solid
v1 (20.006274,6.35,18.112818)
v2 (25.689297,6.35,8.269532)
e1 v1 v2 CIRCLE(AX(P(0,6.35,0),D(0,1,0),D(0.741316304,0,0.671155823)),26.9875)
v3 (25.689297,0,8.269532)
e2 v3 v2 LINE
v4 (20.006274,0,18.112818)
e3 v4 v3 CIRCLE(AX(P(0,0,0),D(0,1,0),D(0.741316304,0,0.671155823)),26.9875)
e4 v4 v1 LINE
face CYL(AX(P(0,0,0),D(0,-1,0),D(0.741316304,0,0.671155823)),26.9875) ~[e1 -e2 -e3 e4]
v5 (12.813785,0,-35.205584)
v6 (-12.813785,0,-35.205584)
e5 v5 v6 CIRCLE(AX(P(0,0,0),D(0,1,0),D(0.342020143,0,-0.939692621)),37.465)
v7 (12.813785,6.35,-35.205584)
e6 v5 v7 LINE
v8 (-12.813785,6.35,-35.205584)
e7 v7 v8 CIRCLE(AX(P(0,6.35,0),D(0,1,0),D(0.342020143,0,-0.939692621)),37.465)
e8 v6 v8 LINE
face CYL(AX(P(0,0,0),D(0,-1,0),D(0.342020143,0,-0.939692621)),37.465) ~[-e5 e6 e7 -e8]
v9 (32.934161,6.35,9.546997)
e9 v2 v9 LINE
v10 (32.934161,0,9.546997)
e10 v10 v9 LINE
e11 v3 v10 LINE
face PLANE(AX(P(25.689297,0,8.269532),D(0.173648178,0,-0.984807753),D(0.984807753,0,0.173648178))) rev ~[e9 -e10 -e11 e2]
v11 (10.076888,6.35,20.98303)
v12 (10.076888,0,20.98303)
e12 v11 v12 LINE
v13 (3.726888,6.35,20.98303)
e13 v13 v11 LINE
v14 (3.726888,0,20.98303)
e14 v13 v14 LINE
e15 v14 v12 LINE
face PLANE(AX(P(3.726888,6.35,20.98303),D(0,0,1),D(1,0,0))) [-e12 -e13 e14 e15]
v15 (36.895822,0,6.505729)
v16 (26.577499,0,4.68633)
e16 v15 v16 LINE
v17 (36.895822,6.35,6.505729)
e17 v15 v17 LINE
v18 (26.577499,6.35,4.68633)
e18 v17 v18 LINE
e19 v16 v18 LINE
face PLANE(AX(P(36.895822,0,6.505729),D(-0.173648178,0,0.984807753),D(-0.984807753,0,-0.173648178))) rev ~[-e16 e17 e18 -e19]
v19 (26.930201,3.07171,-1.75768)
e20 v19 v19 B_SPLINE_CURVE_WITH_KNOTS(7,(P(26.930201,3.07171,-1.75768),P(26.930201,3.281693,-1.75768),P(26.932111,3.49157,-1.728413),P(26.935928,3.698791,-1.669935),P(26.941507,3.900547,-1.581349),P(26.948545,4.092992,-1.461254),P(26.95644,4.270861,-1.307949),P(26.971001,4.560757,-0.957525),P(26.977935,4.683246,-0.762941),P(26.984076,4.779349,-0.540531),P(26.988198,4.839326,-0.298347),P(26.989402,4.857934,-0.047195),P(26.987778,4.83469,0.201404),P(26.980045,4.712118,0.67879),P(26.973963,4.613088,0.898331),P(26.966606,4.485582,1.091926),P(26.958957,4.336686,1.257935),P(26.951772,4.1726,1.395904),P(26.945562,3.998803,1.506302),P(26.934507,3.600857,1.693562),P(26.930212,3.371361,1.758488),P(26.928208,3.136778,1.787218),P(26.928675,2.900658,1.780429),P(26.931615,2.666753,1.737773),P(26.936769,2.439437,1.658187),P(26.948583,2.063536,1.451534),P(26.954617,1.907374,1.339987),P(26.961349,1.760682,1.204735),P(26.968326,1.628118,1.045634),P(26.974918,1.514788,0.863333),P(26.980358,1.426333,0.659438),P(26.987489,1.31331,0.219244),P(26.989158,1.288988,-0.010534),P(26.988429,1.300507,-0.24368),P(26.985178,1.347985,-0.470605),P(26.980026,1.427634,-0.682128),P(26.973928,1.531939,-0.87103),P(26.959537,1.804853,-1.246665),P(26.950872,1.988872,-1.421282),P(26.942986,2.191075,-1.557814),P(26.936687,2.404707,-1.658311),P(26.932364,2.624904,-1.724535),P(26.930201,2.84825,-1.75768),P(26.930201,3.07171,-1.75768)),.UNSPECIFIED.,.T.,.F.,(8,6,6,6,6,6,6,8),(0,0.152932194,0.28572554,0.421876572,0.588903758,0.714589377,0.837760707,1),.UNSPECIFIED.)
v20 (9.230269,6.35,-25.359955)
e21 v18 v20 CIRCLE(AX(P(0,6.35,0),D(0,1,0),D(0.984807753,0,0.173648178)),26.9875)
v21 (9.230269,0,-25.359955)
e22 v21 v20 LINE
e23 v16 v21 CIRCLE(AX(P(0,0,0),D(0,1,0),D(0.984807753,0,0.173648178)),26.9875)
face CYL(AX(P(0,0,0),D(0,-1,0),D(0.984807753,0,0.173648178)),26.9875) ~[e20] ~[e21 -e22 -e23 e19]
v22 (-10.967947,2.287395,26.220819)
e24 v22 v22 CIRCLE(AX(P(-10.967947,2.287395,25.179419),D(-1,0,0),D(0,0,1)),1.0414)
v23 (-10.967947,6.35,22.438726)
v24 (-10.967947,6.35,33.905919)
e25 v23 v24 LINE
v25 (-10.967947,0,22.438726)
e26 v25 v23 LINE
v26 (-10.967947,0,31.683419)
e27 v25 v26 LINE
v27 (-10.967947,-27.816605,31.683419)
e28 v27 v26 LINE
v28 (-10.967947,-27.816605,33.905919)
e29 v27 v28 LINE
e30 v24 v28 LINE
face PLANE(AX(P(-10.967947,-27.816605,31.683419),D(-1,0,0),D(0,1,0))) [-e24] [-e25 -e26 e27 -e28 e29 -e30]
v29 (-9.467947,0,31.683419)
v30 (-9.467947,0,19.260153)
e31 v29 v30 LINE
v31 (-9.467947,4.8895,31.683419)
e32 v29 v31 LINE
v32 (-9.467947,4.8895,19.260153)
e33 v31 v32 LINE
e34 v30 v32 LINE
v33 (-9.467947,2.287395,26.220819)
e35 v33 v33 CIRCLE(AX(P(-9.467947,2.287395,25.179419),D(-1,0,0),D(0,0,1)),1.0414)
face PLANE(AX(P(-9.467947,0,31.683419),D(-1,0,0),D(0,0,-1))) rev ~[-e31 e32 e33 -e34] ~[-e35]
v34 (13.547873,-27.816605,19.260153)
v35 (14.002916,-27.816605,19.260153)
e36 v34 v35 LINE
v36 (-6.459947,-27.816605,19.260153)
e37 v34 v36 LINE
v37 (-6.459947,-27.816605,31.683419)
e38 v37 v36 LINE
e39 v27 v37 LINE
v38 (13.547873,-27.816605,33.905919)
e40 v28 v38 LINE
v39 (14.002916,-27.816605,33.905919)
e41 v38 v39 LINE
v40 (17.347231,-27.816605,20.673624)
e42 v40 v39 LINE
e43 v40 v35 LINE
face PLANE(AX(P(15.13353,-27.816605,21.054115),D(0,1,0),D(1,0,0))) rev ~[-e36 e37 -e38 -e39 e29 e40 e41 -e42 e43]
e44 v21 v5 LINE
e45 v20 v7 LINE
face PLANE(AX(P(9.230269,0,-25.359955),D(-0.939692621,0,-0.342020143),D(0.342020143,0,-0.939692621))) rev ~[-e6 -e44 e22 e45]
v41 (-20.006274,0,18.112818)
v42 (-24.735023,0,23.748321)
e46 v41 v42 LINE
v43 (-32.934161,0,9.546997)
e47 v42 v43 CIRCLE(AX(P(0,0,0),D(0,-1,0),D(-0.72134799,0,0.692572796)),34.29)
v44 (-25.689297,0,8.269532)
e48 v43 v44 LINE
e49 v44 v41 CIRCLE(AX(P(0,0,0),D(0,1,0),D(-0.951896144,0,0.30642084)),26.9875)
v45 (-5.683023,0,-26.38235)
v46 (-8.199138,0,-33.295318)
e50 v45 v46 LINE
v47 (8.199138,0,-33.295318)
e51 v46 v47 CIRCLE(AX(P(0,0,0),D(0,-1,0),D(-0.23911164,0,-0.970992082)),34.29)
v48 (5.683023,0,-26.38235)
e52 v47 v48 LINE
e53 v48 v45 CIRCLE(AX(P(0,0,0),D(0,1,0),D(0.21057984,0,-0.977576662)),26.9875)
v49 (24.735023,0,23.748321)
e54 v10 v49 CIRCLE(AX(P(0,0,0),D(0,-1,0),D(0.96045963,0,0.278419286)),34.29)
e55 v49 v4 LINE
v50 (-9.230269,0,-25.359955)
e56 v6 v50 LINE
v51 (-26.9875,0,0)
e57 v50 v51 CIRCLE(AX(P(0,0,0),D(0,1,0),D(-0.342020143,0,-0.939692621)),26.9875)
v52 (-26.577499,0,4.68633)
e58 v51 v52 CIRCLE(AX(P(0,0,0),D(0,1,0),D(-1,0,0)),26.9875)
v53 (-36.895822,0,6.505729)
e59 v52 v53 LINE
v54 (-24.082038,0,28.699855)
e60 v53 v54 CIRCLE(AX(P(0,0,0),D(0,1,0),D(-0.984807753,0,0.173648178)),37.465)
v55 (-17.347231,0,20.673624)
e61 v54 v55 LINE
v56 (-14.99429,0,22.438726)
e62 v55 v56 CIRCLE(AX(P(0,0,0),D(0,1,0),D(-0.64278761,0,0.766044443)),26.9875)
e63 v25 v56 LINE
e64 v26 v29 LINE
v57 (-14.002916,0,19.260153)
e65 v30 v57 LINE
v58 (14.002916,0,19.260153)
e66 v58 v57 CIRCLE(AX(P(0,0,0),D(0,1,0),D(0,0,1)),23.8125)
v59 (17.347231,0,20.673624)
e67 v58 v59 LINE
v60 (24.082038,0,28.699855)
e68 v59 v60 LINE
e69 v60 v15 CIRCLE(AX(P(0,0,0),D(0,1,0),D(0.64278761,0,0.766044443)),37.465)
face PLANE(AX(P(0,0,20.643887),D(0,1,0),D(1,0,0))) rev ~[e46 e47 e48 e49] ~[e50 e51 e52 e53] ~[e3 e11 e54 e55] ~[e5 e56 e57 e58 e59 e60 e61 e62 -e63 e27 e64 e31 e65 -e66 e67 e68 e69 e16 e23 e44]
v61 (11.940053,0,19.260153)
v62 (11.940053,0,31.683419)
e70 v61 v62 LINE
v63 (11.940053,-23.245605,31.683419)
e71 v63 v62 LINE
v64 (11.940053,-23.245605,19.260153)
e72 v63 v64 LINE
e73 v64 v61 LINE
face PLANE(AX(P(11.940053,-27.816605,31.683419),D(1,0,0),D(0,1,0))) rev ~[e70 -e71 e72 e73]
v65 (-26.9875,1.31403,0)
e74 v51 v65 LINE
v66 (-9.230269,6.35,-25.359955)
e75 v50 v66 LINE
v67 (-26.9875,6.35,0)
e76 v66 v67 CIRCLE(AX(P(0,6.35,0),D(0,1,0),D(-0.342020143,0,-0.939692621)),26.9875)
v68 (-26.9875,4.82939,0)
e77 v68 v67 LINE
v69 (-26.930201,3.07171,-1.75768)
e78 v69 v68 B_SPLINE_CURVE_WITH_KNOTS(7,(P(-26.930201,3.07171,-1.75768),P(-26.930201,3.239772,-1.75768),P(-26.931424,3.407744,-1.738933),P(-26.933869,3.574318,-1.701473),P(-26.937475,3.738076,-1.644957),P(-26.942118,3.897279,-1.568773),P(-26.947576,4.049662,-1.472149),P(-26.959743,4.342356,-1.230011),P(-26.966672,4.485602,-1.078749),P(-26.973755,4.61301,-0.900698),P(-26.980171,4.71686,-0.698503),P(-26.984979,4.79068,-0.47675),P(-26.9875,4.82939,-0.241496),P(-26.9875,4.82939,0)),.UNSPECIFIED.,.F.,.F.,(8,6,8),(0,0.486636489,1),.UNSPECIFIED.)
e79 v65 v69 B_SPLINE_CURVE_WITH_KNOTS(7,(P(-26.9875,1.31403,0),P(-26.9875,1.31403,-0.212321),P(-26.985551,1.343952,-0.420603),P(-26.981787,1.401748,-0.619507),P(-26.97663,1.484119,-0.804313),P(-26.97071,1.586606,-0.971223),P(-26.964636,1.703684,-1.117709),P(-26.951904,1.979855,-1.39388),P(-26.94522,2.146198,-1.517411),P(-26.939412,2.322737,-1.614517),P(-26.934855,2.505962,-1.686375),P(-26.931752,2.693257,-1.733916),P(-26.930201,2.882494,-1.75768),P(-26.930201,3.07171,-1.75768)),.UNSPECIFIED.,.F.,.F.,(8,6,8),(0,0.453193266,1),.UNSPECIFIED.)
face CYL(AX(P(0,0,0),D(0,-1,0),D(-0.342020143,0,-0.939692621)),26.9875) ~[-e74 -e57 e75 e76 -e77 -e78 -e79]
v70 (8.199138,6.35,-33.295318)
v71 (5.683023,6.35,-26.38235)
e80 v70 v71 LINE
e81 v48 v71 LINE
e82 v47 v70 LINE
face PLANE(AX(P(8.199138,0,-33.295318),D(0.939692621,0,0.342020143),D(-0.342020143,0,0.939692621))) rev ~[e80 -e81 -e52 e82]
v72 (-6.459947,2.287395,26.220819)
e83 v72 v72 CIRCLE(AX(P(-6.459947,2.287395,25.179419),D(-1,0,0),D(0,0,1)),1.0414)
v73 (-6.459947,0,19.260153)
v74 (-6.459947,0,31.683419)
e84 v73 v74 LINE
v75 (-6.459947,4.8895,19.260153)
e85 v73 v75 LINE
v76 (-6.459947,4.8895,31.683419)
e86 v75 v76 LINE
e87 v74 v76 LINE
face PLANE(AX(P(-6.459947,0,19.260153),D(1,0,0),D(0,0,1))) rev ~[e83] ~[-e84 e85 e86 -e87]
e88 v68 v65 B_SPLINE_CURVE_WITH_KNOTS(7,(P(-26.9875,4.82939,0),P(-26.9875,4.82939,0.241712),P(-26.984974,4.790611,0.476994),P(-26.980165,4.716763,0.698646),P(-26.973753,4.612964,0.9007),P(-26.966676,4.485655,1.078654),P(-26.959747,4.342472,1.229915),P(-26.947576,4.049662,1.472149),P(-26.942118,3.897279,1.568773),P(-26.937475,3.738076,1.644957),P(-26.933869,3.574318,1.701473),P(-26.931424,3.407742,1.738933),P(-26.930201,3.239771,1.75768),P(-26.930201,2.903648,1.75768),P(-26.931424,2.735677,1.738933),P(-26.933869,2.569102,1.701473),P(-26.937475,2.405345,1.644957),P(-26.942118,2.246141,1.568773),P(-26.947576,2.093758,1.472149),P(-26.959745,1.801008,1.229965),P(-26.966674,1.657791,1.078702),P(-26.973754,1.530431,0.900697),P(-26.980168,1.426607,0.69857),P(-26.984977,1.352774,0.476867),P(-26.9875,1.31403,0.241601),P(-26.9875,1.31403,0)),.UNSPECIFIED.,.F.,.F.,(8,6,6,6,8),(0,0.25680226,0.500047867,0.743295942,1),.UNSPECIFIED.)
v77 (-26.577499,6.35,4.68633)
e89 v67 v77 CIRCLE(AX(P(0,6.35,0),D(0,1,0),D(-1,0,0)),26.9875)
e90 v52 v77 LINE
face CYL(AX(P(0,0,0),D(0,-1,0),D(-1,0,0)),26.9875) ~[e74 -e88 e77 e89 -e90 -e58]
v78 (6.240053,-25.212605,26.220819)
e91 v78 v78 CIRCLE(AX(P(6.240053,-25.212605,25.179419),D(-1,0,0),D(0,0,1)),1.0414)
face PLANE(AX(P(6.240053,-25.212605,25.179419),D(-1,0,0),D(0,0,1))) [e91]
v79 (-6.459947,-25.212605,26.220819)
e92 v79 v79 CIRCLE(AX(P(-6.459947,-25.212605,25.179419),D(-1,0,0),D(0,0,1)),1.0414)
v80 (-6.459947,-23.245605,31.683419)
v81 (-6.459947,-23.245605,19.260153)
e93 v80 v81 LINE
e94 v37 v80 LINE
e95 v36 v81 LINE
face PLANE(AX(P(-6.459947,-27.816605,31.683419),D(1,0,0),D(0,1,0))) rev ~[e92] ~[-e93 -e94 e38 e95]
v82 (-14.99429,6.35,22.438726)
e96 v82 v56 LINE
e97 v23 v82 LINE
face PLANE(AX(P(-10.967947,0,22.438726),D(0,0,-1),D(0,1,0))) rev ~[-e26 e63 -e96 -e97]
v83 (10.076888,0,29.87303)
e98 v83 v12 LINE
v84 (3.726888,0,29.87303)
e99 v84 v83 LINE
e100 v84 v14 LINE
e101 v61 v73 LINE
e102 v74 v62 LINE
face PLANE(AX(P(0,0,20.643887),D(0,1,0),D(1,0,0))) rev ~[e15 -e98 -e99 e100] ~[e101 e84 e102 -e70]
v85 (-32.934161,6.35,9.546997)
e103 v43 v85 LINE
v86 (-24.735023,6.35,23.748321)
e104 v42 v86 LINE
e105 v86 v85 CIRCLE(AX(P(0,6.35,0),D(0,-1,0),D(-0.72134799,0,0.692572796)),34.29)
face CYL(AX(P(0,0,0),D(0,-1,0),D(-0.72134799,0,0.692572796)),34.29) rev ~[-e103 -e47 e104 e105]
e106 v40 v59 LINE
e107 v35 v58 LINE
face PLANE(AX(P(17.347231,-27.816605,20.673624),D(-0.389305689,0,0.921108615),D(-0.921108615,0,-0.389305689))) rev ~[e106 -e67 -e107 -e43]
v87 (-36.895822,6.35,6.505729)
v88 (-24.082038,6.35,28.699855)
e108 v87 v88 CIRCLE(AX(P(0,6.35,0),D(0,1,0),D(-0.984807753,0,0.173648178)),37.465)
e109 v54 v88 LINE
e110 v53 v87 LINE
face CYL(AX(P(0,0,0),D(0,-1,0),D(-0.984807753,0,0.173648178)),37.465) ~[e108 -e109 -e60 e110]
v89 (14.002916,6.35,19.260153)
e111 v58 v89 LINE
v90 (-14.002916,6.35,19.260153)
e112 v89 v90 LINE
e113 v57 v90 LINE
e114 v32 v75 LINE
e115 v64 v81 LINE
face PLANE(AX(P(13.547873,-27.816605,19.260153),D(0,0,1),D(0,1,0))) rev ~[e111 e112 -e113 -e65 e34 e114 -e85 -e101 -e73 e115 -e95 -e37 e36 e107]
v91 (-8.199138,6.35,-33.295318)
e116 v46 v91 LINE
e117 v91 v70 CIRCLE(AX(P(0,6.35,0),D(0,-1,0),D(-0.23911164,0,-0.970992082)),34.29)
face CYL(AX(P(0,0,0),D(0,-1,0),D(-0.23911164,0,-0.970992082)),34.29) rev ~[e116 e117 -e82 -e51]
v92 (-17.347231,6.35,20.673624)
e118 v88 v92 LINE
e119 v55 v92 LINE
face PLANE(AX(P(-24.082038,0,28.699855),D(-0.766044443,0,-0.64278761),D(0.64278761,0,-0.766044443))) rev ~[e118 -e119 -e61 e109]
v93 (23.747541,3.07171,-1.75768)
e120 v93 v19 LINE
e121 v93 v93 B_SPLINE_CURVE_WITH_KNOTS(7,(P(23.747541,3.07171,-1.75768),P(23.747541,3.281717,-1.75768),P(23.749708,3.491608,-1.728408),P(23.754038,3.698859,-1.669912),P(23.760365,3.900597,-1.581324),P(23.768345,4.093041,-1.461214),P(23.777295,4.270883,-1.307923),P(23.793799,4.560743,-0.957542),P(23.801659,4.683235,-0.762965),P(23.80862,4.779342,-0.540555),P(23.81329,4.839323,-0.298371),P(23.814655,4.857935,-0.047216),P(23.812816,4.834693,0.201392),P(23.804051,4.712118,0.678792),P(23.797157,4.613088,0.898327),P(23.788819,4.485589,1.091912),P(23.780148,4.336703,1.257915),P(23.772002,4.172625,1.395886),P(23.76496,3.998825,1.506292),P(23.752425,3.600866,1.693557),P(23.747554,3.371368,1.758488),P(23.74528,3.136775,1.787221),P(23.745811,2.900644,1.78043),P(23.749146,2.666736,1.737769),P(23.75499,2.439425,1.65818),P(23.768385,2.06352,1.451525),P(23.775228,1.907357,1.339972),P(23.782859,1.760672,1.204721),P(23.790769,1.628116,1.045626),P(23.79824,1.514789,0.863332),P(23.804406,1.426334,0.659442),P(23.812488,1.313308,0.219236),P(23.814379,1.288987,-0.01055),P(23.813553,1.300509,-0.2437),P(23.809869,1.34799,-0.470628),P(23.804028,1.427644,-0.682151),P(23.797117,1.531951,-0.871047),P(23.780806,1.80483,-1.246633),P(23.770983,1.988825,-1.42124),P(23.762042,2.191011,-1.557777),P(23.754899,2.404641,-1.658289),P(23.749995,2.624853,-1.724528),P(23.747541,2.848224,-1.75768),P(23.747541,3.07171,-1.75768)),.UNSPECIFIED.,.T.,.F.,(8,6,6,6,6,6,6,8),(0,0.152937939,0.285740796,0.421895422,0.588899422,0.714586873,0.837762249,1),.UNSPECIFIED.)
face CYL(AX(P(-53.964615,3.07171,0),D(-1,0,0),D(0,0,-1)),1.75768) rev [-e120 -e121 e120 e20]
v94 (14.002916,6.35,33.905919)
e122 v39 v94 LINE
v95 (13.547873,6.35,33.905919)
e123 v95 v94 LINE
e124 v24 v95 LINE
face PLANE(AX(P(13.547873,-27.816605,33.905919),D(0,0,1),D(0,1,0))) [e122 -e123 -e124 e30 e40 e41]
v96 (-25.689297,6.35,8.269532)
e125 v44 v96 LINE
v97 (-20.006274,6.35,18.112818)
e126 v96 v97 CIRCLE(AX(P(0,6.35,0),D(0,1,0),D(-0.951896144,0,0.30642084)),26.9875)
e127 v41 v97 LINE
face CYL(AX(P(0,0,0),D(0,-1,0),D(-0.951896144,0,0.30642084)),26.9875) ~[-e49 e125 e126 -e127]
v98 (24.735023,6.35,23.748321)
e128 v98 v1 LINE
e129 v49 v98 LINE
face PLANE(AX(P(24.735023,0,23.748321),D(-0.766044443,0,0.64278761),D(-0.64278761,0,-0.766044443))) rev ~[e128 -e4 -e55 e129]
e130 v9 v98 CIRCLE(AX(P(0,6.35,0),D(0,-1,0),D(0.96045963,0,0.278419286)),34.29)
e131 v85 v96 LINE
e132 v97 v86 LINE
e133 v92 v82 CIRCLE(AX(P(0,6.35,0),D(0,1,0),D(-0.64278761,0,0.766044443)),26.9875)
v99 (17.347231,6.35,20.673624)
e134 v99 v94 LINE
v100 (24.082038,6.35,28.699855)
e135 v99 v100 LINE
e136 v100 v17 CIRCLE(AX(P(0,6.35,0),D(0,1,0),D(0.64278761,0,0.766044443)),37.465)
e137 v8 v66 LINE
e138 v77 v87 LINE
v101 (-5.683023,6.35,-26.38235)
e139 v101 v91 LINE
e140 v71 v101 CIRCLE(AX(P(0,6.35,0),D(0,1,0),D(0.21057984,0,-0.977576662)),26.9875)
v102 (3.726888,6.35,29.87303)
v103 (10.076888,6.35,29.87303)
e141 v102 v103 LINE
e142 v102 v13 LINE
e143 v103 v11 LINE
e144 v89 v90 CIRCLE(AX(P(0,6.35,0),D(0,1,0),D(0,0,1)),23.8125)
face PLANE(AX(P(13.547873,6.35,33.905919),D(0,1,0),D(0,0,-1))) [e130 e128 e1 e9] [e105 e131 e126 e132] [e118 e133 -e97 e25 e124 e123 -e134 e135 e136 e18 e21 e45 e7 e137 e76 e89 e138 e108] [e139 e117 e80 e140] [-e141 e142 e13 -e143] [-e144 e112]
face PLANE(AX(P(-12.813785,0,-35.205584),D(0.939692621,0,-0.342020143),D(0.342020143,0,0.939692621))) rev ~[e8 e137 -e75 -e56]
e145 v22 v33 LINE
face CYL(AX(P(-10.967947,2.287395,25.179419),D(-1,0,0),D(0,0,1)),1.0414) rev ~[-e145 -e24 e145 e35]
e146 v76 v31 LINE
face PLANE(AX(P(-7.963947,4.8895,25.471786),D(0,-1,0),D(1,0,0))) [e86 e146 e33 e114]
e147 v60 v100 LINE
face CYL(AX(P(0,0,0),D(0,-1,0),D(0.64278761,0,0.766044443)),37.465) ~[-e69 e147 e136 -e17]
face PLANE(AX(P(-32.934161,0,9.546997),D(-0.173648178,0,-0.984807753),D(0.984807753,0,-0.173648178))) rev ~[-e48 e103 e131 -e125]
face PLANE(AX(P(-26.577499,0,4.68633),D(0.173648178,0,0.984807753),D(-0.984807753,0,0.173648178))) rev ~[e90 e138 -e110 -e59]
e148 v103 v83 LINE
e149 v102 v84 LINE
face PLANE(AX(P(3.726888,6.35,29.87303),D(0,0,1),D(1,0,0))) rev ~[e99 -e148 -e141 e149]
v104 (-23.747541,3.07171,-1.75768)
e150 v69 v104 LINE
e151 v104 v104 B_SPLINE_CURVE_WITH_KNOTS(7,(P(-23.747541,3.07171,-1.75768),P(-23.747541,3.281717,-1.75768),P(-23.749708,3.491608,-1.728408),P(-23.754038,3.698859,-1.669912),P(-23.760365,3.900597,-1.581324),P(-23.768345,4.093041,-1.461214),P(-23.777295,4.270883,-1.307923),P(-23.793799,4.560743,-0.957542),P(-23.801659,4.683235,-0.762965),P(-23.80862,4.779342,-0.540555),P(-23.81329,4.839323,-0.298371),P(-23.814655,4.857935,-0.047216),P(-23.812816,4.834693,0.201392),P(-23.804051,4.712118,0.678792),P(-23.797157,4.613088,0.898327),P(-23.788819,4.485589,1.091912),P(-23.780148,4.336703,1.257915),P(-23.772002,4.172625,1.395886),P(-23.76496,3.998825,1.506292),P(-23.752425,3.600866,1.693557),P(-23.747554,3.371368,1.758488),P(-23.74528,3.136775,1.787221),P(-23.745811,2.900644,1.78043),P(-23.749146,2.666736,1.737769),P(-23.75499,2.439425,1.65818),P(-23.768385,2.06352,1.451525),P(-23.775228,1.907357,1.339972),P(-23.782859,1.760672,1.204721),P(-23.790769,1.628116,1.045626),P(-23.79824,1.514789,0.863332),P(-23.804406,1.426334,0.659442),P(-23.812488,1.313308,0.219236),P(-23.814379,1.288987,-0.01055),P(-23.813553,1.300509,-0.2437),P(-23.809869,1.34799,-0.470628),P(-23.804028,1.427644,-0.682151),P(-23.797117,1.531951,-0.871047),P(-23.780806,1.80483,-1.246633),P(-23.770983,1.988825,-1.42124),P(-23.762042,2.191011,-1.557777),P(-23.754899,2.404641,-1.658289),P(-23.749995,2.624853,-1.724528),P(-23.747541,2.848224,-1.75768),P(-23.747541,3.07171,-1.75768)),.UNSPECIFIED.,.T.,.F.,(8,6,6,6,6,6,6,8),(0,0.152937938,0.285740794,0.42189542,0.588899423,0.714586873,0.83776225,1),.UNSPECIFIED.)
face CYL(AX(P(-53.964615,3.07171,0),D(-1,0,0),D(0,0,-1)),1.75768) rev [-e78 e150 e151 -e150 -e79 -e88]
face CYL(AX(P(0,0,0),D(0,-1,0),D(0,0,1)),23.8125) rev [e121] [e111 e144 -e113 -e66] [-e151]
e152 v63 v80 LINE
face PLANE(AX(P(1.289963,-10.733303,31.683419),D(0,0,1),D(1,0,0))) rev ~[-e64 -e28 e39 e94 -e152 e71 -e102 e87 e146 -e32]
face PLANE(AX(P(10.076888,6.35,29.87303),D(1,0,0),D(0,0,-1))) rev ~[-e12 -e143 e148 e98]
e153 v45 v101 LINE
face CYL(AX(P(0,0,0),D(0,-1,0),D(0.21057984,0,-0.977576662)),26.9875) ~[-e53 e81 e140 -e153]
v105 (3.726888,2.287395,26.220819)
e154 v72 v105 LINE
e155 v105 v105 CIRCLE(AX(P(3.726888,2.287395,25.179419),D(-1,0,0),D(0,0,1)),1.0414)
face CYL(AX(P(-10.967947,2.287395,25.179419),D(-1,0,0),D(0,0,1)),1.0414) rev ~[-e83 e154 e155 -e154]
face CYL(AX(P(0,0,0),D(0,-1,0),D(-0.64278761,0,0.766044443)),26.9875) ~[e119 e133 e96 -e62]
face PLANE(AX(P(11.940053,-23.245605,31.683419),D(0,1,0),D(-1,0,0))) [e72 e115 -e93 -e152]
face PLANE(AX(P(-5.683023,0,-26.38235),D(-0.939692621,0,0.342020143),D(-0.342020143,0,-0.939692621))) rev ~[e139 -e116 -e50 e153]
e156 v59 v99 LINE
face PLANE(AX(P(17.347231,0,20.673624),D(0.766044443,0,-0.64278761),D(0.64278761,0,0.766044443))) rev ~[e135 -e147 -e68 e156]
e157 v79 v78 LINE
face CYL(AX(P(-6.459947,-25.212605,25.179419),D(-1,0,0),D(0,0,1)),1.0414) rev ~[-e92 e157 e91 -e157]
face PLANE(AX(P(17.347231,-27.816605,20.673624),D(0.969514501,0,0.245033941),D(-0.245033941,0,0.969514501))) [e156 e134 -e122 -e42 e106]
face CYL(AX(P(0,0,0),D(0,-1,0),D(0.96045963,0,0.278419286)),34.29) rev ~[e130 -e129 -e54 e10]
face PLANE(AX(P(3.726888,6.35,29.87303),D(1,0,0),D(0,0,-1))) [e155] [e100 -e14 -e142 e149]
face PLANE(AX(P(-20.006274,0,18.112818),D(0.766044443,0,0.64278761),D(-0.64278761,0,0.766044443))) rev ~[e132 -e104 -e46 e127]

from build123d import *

# Parameters (mm, degrees)
SKETCH1_R               = 23.8125
BOSS_EXTRUDE1_DEPTH     = 6.35
CUT_EXTRUDE1_DEPTH      = 53.964614985
CUT_EXTRUDE1_DEPTH_BACK = 53.964614985
SKETCH4_R               = 1.75768
BOSS_EXTRUDE3_START     = -6.35
BOSS_EXTRUDE3_DEPTH     = 6.35
SKETCH13_W              = 24.51582
SKETCH13_H              = 34.16660521
BOSS_EXTRUDE7_DEPTH     = 2.2225
SKETCH14_W              = 18.4
SKETCH14_H              = 4.571
BOSS_EXTRUDE8_DEPTH     = 12.423266239
SKETCH19_W              = 1.60782
SKETCH19_H              = 34.16660521
BOSS_EXTRUDE14_DEPTH    = 12.423266239
SKETCH20_W              = 14.645766239
SKETCH20_H              = 34.16660521
BOSS_EXTRUDE15_DEPTH    = 0.455043
CUT_EXTRUDE2_DEPTH      = 4.8895
SKETCH25_W              = 11.467193476
SKETCH25_H              = 6.35
CUT_EXTRUDE3_DEPTH      = 4.7625
SKETCH23_R              = 1.0414
CUT_EXTRUDE4_DEPTH      = 17.78
SKETCH27_R              = 1.0414
CUT_EXTRUDE5_DEPTH      = 12.7
BOSS_EXTRUDE17_START    = -34.16660521
BOSS_EXTRUDE17_DEPTH    = 34.16660521
SKETCH31_W              = 6.35
SKETCH31_H              = 8.89
CUT_EXTRUDE6_DEPTH      = 7.874


with BuildPart() as part:
    # Sketch1 → Boss-Extrude1 (new body)
    with BuildSketch(Plane(origin=(0, 0, 0), x_dir=(1, 0, 0), z_dir=(0, 1, 0))):
        with BuildLine():
            Line((-26.577499234, -4.686330195), (-36.895822467, -6.505728976))
            ThreePointArc((-36.895822467, -6.505728976), (-32.445641753, -18.7325), (-24.082037797, -28.699855061))
            Line((-24.082037797, -28.699855061), (-17.347230616, -20.673624409))
            ThreePointArc((-17.347230616, -20.673624409), (0, -26.9875), (17.347230616, -20.673624409))
            Line((17.347230616, -20.673624409), (24.082037797, -28.699855061))
            ThreePointArc((24.082037797, -28.699855061), (32.445641753, -18.7325), (36.895822467, -6.505728976))
            Line((36.895822467, -6.505728976), (26.577499234, -4.686330195))
            ThreePointArc((26.577499234, -4.686330195), (23.371860585, 13.49375), (9.230268618, 25.359954603))
            Line((9.230268618, 25.359954603), (12.81378467, 35.205584038))
            ThreePointArc((12.81378467, 35.205584038), (0, 37.465), (-12.81378467, 35.205584038))
            Line((-12.81378467, 35.205584038), (-9.230268618, 25.359954603))
            ThreePointArc((-9.230268618, 25.359954603), (-22.106865795, 15.479394076), (-26.9875, 0))
            ThreePointArc((-26.9875, 0), (-26.884804415, -2.352115607), (-26.577499234, -4.686330195))
        make_face()
        with BuildLine():
            ThreePointArc((20.006273745, -18.112817756), (23.371860585, -13.49375), (25.689297184, -8.269532421))
            Line((25.689297184, -8.269532421), (32.934160714, -9.546997332))
            ThreePointArc((32.934160714, -9.546997332), (29.696011096, -17.145), (24.735022577, -23.748321164))
            Line((24.735022577, -23.748321164), (20.006273745, -18.112817756))
        make_face(mode=Mode.SUBTRACT)
        with BuildLine():
            Line((-32.934160714, -9.546997332), (-25.689297184, -8.269532421))
            ThreePointArc((-25.689297184, -8.269532421), (-23.371860585, -13.49375), (-20.006273745, -18.112817756))
            Line((-20.006273745, -18.112817756), (-24.735022577, -23.748321164))
            ThreePointArc((-24.735022577, -23.748321164), (-29.696011096, -17.145), (-32.934160714, -9.546997332))
        make_face(mode=Mode.SUBTRACT)
        with Locations(Location((0, 0, 0), (0, 0, 270))):
            Circle(SKETCH1_R, mode=Mode.SUBTRACT)
        with BuildLine():
            ThreePointArc((-8.199138137, 33.295318497), (0, 34.29), (8.199138137, 33.295318497))
            Line((8.199138137, 33.295318497), (5.683023438, 26.382350177))
            ThreePointArc((5.683023438, 26.382350177), (0, 26.9875), (-5.683023438, 26.382350177))
            Line((-5.683023438, 26.382350177), (-8.199138137, 33.295318497))
        make_face(mode=Mode.SUBTRACT)
    extrude(amount=BOSS_EXTRUDE1_DEPTH)

    # Sketch4 → Cut-Extrude1 (cut, two sides: drawn at the far end of the back side and taken through both)
    with BuildSketch(Plane(origin=(0, 0, 0), x_dir=(0, 0, -1), z_dir=(1, 0, 0)).offset(-CUT_EXTRUDE1_DEPTH_BACK)):
        with Locations((0, 3.071710122)):
            Circle(SKETCH4_R)
    extrude(amount=CUT_EXTRUDE1_DEPTH + CUT_EXTRUDE1_DEPTH_BACK, mode=Mode.SUBTRACT)

    # Sketch7 → Boss-Extrude3 (add)
    with BuildSketch(Plane(origin=(0, 6.35, 0), x_dir=(1, 0, 0), z_dir=(0, 1, 0)).offset(BOSS_EXTRUDE3_START)):
        with BuildLine():
            Line((11.940053077, -31.683419289), (11.940053077, -24.202485177))
            ThreePointArc((11.940053077, -24.202485177), (0.536822134, -26.98216037), (-10.967946923, -24.658250071))
            Line((-10.967946923, -24.658250071), (-10.967946923, -31.683419289))
            Line((-10.967946923, -31.683419289), (11.940053077, -31.683419289))
        make_face()
        with BuildLine():
            ThreePointArc((-14.002916152, -19.26015305), (0, -23.8125), (14.002916152, -19.26015305))
            Line((14.002916152, -19.26015305), (-14.002916152, -19.26015305))
        make_face()
    extrude(amount=BOSS_EXTRUDE3_DEPTH)

    # Sketch13 → Boss-Extrude7 (add)
    with BuildSketch(Plane.XY.offset(31.683419289)):
        with Locations((1.289963077, -10.733302605)):
            Rectangle(SKETCH13_W, SKETCH13_H)
    extrude(amount=BOSS_EXTRUDE7_DEPTH)

    # Sketch14 → Boss-Extrude8 (add)
    with BuildSketch(Plane(origin=(0, 0, 31.683419289), x_dir=(-1, 0, 0), z_dir=(0, 0, -1))):
        with Locations((-2.740053077, -25.53110521)):
            Rectangle(SKETCH14_W, SKETCH14_H)
    extrude(amount=BOSS_EXTRUDE8_DEPTH)

    # Sketch19 → Boss-Extrude14 (add)
    with BuildSketch(Plane(origin=(0, 0, 31.683419289), x_dir=(-1, 0, 0), z_dir=(0, 0, -1))):
        with Locations((-12.743963077, -10.733302605)):
            Rectangle(SKETCH19_W, SKETCH19_H)
    extrude(amount=BOSS_EXTRUDE14_DEPTH)

    # Sketch20 → Boss-Extrude15 (add)
    with BuildSketch(Plane(origin=(13.547873077, 0, 0), x_dir=(0, 0, -1), z_dir=(1, 0, 0))):
        with Locations((-26.58303617, -10.733302605)):
            Rectangle(SKETCH20_W, SKETCH20_H)
    extrude(amount=BOSS_EXTRUDE15_DEPTH)

    # Sketch21 → Cut-Extrude2 (cut)
    with BuildSketch(Plane.XZ):
        Polygon((-6.459946923, 19.26015305), (-6.459946923, 30.299813914), (-6.459946923, 31.683419289), (-9.467946923, 31.683419289), (-9.467946923, 30.629419289), (-9.467946923, 19.26015305), align=None)
    extrude(amount=-CUT_EXTRUDE2_DEPTH, mode=Mode.SUBTRACT)

    # Sketch25 → Cut-Extrude3 (cut)
    with BuildSketch(Plane.ZY.offset(10.967946923)):
        with Locations((28.172322551, 3.175)):
            Rectangle(SKETCH25_W, SKETCH25_H)
    extrude(amount=CUT_EXTRUDE3_DEPTH, mode=Mode.SUBTRACT)

    # Sketch23 → Cut-Extrude4 (cut)
    with BuildSketch(Plane.ZY.offset(10.967946923)):
        with Locations((25.179419289, 2.28739479)):
            Circle(SKETCH23_R)
    extrude(amount=-CUT_EXTRUDE4_DEPTH, mode=Mode.SUBTRACT)

    # Sketch27 → Cut-Extrude5 (cut)
    with BuildSketch(Plane.ZY.offset(6.459946923)):
        with Locations((25.179419289, -25.21260521)):
            Circle(SKETCH27_R)
    extrude(amount=-CUT_EXTRUDE5_DEPTH, mode=Mode.SUBTRACT)

    # Sketch29 → Boss-Extrude17 (add)
    with BuildSketch(Plane(origin=(0, 6.35, 0), x_dir=(1, 0, 0), z_dir=(0, 1, 0)).offset(BOSS_EXTRUDE17_START)):
        with BuildLine():
            Line((17.347230616, -20.673624409), (14.002916152, -19.26015305))
            Line((14.002916152, -19.26015305), (14.002916152, -20.673624409))
            Line((14.002916152, -20.673624409), (14.002916152, -20.706319513))
            Line((14.002916152, -20.706319513), (14.002916152, -23.07040302))
            ThreePointArc((14.002916152, -23.07040302), (15.720816217, -21.935840392), (17.347230616, -20.673624409))
        make_face()
        with BuildLine():
            Line((17.347230616, -20.673624409), (14.002916152, -33.905919289))
            Line((14.002916152, -33.905919289), (14.002916152, -23.07040302))
            ThreePointArc((14.002916152, -23.07040302), (15.720816217, -21.935840392), (17.347230616, -20.673624409))
        make_face()
    extrude(amount=BOSS_EXTRUDE17_DEPTH)

    # Sketch31 → Cut-Extrude6 (cut)
    with BuildSketch(Plane(origin=(0, 6.35, 0), x_dir=(1, 0, 0), z_dir=(0, 1, 0))):
        with Locations((6.901888069, -25.428029678)):
            Rectangle(SKETCH31_W, SKETCH31_H)
    extrude(amount=-CUT_EXTRUDE6_DEPTH, mode=Mode.SUBTRACT)


solid = part.part
